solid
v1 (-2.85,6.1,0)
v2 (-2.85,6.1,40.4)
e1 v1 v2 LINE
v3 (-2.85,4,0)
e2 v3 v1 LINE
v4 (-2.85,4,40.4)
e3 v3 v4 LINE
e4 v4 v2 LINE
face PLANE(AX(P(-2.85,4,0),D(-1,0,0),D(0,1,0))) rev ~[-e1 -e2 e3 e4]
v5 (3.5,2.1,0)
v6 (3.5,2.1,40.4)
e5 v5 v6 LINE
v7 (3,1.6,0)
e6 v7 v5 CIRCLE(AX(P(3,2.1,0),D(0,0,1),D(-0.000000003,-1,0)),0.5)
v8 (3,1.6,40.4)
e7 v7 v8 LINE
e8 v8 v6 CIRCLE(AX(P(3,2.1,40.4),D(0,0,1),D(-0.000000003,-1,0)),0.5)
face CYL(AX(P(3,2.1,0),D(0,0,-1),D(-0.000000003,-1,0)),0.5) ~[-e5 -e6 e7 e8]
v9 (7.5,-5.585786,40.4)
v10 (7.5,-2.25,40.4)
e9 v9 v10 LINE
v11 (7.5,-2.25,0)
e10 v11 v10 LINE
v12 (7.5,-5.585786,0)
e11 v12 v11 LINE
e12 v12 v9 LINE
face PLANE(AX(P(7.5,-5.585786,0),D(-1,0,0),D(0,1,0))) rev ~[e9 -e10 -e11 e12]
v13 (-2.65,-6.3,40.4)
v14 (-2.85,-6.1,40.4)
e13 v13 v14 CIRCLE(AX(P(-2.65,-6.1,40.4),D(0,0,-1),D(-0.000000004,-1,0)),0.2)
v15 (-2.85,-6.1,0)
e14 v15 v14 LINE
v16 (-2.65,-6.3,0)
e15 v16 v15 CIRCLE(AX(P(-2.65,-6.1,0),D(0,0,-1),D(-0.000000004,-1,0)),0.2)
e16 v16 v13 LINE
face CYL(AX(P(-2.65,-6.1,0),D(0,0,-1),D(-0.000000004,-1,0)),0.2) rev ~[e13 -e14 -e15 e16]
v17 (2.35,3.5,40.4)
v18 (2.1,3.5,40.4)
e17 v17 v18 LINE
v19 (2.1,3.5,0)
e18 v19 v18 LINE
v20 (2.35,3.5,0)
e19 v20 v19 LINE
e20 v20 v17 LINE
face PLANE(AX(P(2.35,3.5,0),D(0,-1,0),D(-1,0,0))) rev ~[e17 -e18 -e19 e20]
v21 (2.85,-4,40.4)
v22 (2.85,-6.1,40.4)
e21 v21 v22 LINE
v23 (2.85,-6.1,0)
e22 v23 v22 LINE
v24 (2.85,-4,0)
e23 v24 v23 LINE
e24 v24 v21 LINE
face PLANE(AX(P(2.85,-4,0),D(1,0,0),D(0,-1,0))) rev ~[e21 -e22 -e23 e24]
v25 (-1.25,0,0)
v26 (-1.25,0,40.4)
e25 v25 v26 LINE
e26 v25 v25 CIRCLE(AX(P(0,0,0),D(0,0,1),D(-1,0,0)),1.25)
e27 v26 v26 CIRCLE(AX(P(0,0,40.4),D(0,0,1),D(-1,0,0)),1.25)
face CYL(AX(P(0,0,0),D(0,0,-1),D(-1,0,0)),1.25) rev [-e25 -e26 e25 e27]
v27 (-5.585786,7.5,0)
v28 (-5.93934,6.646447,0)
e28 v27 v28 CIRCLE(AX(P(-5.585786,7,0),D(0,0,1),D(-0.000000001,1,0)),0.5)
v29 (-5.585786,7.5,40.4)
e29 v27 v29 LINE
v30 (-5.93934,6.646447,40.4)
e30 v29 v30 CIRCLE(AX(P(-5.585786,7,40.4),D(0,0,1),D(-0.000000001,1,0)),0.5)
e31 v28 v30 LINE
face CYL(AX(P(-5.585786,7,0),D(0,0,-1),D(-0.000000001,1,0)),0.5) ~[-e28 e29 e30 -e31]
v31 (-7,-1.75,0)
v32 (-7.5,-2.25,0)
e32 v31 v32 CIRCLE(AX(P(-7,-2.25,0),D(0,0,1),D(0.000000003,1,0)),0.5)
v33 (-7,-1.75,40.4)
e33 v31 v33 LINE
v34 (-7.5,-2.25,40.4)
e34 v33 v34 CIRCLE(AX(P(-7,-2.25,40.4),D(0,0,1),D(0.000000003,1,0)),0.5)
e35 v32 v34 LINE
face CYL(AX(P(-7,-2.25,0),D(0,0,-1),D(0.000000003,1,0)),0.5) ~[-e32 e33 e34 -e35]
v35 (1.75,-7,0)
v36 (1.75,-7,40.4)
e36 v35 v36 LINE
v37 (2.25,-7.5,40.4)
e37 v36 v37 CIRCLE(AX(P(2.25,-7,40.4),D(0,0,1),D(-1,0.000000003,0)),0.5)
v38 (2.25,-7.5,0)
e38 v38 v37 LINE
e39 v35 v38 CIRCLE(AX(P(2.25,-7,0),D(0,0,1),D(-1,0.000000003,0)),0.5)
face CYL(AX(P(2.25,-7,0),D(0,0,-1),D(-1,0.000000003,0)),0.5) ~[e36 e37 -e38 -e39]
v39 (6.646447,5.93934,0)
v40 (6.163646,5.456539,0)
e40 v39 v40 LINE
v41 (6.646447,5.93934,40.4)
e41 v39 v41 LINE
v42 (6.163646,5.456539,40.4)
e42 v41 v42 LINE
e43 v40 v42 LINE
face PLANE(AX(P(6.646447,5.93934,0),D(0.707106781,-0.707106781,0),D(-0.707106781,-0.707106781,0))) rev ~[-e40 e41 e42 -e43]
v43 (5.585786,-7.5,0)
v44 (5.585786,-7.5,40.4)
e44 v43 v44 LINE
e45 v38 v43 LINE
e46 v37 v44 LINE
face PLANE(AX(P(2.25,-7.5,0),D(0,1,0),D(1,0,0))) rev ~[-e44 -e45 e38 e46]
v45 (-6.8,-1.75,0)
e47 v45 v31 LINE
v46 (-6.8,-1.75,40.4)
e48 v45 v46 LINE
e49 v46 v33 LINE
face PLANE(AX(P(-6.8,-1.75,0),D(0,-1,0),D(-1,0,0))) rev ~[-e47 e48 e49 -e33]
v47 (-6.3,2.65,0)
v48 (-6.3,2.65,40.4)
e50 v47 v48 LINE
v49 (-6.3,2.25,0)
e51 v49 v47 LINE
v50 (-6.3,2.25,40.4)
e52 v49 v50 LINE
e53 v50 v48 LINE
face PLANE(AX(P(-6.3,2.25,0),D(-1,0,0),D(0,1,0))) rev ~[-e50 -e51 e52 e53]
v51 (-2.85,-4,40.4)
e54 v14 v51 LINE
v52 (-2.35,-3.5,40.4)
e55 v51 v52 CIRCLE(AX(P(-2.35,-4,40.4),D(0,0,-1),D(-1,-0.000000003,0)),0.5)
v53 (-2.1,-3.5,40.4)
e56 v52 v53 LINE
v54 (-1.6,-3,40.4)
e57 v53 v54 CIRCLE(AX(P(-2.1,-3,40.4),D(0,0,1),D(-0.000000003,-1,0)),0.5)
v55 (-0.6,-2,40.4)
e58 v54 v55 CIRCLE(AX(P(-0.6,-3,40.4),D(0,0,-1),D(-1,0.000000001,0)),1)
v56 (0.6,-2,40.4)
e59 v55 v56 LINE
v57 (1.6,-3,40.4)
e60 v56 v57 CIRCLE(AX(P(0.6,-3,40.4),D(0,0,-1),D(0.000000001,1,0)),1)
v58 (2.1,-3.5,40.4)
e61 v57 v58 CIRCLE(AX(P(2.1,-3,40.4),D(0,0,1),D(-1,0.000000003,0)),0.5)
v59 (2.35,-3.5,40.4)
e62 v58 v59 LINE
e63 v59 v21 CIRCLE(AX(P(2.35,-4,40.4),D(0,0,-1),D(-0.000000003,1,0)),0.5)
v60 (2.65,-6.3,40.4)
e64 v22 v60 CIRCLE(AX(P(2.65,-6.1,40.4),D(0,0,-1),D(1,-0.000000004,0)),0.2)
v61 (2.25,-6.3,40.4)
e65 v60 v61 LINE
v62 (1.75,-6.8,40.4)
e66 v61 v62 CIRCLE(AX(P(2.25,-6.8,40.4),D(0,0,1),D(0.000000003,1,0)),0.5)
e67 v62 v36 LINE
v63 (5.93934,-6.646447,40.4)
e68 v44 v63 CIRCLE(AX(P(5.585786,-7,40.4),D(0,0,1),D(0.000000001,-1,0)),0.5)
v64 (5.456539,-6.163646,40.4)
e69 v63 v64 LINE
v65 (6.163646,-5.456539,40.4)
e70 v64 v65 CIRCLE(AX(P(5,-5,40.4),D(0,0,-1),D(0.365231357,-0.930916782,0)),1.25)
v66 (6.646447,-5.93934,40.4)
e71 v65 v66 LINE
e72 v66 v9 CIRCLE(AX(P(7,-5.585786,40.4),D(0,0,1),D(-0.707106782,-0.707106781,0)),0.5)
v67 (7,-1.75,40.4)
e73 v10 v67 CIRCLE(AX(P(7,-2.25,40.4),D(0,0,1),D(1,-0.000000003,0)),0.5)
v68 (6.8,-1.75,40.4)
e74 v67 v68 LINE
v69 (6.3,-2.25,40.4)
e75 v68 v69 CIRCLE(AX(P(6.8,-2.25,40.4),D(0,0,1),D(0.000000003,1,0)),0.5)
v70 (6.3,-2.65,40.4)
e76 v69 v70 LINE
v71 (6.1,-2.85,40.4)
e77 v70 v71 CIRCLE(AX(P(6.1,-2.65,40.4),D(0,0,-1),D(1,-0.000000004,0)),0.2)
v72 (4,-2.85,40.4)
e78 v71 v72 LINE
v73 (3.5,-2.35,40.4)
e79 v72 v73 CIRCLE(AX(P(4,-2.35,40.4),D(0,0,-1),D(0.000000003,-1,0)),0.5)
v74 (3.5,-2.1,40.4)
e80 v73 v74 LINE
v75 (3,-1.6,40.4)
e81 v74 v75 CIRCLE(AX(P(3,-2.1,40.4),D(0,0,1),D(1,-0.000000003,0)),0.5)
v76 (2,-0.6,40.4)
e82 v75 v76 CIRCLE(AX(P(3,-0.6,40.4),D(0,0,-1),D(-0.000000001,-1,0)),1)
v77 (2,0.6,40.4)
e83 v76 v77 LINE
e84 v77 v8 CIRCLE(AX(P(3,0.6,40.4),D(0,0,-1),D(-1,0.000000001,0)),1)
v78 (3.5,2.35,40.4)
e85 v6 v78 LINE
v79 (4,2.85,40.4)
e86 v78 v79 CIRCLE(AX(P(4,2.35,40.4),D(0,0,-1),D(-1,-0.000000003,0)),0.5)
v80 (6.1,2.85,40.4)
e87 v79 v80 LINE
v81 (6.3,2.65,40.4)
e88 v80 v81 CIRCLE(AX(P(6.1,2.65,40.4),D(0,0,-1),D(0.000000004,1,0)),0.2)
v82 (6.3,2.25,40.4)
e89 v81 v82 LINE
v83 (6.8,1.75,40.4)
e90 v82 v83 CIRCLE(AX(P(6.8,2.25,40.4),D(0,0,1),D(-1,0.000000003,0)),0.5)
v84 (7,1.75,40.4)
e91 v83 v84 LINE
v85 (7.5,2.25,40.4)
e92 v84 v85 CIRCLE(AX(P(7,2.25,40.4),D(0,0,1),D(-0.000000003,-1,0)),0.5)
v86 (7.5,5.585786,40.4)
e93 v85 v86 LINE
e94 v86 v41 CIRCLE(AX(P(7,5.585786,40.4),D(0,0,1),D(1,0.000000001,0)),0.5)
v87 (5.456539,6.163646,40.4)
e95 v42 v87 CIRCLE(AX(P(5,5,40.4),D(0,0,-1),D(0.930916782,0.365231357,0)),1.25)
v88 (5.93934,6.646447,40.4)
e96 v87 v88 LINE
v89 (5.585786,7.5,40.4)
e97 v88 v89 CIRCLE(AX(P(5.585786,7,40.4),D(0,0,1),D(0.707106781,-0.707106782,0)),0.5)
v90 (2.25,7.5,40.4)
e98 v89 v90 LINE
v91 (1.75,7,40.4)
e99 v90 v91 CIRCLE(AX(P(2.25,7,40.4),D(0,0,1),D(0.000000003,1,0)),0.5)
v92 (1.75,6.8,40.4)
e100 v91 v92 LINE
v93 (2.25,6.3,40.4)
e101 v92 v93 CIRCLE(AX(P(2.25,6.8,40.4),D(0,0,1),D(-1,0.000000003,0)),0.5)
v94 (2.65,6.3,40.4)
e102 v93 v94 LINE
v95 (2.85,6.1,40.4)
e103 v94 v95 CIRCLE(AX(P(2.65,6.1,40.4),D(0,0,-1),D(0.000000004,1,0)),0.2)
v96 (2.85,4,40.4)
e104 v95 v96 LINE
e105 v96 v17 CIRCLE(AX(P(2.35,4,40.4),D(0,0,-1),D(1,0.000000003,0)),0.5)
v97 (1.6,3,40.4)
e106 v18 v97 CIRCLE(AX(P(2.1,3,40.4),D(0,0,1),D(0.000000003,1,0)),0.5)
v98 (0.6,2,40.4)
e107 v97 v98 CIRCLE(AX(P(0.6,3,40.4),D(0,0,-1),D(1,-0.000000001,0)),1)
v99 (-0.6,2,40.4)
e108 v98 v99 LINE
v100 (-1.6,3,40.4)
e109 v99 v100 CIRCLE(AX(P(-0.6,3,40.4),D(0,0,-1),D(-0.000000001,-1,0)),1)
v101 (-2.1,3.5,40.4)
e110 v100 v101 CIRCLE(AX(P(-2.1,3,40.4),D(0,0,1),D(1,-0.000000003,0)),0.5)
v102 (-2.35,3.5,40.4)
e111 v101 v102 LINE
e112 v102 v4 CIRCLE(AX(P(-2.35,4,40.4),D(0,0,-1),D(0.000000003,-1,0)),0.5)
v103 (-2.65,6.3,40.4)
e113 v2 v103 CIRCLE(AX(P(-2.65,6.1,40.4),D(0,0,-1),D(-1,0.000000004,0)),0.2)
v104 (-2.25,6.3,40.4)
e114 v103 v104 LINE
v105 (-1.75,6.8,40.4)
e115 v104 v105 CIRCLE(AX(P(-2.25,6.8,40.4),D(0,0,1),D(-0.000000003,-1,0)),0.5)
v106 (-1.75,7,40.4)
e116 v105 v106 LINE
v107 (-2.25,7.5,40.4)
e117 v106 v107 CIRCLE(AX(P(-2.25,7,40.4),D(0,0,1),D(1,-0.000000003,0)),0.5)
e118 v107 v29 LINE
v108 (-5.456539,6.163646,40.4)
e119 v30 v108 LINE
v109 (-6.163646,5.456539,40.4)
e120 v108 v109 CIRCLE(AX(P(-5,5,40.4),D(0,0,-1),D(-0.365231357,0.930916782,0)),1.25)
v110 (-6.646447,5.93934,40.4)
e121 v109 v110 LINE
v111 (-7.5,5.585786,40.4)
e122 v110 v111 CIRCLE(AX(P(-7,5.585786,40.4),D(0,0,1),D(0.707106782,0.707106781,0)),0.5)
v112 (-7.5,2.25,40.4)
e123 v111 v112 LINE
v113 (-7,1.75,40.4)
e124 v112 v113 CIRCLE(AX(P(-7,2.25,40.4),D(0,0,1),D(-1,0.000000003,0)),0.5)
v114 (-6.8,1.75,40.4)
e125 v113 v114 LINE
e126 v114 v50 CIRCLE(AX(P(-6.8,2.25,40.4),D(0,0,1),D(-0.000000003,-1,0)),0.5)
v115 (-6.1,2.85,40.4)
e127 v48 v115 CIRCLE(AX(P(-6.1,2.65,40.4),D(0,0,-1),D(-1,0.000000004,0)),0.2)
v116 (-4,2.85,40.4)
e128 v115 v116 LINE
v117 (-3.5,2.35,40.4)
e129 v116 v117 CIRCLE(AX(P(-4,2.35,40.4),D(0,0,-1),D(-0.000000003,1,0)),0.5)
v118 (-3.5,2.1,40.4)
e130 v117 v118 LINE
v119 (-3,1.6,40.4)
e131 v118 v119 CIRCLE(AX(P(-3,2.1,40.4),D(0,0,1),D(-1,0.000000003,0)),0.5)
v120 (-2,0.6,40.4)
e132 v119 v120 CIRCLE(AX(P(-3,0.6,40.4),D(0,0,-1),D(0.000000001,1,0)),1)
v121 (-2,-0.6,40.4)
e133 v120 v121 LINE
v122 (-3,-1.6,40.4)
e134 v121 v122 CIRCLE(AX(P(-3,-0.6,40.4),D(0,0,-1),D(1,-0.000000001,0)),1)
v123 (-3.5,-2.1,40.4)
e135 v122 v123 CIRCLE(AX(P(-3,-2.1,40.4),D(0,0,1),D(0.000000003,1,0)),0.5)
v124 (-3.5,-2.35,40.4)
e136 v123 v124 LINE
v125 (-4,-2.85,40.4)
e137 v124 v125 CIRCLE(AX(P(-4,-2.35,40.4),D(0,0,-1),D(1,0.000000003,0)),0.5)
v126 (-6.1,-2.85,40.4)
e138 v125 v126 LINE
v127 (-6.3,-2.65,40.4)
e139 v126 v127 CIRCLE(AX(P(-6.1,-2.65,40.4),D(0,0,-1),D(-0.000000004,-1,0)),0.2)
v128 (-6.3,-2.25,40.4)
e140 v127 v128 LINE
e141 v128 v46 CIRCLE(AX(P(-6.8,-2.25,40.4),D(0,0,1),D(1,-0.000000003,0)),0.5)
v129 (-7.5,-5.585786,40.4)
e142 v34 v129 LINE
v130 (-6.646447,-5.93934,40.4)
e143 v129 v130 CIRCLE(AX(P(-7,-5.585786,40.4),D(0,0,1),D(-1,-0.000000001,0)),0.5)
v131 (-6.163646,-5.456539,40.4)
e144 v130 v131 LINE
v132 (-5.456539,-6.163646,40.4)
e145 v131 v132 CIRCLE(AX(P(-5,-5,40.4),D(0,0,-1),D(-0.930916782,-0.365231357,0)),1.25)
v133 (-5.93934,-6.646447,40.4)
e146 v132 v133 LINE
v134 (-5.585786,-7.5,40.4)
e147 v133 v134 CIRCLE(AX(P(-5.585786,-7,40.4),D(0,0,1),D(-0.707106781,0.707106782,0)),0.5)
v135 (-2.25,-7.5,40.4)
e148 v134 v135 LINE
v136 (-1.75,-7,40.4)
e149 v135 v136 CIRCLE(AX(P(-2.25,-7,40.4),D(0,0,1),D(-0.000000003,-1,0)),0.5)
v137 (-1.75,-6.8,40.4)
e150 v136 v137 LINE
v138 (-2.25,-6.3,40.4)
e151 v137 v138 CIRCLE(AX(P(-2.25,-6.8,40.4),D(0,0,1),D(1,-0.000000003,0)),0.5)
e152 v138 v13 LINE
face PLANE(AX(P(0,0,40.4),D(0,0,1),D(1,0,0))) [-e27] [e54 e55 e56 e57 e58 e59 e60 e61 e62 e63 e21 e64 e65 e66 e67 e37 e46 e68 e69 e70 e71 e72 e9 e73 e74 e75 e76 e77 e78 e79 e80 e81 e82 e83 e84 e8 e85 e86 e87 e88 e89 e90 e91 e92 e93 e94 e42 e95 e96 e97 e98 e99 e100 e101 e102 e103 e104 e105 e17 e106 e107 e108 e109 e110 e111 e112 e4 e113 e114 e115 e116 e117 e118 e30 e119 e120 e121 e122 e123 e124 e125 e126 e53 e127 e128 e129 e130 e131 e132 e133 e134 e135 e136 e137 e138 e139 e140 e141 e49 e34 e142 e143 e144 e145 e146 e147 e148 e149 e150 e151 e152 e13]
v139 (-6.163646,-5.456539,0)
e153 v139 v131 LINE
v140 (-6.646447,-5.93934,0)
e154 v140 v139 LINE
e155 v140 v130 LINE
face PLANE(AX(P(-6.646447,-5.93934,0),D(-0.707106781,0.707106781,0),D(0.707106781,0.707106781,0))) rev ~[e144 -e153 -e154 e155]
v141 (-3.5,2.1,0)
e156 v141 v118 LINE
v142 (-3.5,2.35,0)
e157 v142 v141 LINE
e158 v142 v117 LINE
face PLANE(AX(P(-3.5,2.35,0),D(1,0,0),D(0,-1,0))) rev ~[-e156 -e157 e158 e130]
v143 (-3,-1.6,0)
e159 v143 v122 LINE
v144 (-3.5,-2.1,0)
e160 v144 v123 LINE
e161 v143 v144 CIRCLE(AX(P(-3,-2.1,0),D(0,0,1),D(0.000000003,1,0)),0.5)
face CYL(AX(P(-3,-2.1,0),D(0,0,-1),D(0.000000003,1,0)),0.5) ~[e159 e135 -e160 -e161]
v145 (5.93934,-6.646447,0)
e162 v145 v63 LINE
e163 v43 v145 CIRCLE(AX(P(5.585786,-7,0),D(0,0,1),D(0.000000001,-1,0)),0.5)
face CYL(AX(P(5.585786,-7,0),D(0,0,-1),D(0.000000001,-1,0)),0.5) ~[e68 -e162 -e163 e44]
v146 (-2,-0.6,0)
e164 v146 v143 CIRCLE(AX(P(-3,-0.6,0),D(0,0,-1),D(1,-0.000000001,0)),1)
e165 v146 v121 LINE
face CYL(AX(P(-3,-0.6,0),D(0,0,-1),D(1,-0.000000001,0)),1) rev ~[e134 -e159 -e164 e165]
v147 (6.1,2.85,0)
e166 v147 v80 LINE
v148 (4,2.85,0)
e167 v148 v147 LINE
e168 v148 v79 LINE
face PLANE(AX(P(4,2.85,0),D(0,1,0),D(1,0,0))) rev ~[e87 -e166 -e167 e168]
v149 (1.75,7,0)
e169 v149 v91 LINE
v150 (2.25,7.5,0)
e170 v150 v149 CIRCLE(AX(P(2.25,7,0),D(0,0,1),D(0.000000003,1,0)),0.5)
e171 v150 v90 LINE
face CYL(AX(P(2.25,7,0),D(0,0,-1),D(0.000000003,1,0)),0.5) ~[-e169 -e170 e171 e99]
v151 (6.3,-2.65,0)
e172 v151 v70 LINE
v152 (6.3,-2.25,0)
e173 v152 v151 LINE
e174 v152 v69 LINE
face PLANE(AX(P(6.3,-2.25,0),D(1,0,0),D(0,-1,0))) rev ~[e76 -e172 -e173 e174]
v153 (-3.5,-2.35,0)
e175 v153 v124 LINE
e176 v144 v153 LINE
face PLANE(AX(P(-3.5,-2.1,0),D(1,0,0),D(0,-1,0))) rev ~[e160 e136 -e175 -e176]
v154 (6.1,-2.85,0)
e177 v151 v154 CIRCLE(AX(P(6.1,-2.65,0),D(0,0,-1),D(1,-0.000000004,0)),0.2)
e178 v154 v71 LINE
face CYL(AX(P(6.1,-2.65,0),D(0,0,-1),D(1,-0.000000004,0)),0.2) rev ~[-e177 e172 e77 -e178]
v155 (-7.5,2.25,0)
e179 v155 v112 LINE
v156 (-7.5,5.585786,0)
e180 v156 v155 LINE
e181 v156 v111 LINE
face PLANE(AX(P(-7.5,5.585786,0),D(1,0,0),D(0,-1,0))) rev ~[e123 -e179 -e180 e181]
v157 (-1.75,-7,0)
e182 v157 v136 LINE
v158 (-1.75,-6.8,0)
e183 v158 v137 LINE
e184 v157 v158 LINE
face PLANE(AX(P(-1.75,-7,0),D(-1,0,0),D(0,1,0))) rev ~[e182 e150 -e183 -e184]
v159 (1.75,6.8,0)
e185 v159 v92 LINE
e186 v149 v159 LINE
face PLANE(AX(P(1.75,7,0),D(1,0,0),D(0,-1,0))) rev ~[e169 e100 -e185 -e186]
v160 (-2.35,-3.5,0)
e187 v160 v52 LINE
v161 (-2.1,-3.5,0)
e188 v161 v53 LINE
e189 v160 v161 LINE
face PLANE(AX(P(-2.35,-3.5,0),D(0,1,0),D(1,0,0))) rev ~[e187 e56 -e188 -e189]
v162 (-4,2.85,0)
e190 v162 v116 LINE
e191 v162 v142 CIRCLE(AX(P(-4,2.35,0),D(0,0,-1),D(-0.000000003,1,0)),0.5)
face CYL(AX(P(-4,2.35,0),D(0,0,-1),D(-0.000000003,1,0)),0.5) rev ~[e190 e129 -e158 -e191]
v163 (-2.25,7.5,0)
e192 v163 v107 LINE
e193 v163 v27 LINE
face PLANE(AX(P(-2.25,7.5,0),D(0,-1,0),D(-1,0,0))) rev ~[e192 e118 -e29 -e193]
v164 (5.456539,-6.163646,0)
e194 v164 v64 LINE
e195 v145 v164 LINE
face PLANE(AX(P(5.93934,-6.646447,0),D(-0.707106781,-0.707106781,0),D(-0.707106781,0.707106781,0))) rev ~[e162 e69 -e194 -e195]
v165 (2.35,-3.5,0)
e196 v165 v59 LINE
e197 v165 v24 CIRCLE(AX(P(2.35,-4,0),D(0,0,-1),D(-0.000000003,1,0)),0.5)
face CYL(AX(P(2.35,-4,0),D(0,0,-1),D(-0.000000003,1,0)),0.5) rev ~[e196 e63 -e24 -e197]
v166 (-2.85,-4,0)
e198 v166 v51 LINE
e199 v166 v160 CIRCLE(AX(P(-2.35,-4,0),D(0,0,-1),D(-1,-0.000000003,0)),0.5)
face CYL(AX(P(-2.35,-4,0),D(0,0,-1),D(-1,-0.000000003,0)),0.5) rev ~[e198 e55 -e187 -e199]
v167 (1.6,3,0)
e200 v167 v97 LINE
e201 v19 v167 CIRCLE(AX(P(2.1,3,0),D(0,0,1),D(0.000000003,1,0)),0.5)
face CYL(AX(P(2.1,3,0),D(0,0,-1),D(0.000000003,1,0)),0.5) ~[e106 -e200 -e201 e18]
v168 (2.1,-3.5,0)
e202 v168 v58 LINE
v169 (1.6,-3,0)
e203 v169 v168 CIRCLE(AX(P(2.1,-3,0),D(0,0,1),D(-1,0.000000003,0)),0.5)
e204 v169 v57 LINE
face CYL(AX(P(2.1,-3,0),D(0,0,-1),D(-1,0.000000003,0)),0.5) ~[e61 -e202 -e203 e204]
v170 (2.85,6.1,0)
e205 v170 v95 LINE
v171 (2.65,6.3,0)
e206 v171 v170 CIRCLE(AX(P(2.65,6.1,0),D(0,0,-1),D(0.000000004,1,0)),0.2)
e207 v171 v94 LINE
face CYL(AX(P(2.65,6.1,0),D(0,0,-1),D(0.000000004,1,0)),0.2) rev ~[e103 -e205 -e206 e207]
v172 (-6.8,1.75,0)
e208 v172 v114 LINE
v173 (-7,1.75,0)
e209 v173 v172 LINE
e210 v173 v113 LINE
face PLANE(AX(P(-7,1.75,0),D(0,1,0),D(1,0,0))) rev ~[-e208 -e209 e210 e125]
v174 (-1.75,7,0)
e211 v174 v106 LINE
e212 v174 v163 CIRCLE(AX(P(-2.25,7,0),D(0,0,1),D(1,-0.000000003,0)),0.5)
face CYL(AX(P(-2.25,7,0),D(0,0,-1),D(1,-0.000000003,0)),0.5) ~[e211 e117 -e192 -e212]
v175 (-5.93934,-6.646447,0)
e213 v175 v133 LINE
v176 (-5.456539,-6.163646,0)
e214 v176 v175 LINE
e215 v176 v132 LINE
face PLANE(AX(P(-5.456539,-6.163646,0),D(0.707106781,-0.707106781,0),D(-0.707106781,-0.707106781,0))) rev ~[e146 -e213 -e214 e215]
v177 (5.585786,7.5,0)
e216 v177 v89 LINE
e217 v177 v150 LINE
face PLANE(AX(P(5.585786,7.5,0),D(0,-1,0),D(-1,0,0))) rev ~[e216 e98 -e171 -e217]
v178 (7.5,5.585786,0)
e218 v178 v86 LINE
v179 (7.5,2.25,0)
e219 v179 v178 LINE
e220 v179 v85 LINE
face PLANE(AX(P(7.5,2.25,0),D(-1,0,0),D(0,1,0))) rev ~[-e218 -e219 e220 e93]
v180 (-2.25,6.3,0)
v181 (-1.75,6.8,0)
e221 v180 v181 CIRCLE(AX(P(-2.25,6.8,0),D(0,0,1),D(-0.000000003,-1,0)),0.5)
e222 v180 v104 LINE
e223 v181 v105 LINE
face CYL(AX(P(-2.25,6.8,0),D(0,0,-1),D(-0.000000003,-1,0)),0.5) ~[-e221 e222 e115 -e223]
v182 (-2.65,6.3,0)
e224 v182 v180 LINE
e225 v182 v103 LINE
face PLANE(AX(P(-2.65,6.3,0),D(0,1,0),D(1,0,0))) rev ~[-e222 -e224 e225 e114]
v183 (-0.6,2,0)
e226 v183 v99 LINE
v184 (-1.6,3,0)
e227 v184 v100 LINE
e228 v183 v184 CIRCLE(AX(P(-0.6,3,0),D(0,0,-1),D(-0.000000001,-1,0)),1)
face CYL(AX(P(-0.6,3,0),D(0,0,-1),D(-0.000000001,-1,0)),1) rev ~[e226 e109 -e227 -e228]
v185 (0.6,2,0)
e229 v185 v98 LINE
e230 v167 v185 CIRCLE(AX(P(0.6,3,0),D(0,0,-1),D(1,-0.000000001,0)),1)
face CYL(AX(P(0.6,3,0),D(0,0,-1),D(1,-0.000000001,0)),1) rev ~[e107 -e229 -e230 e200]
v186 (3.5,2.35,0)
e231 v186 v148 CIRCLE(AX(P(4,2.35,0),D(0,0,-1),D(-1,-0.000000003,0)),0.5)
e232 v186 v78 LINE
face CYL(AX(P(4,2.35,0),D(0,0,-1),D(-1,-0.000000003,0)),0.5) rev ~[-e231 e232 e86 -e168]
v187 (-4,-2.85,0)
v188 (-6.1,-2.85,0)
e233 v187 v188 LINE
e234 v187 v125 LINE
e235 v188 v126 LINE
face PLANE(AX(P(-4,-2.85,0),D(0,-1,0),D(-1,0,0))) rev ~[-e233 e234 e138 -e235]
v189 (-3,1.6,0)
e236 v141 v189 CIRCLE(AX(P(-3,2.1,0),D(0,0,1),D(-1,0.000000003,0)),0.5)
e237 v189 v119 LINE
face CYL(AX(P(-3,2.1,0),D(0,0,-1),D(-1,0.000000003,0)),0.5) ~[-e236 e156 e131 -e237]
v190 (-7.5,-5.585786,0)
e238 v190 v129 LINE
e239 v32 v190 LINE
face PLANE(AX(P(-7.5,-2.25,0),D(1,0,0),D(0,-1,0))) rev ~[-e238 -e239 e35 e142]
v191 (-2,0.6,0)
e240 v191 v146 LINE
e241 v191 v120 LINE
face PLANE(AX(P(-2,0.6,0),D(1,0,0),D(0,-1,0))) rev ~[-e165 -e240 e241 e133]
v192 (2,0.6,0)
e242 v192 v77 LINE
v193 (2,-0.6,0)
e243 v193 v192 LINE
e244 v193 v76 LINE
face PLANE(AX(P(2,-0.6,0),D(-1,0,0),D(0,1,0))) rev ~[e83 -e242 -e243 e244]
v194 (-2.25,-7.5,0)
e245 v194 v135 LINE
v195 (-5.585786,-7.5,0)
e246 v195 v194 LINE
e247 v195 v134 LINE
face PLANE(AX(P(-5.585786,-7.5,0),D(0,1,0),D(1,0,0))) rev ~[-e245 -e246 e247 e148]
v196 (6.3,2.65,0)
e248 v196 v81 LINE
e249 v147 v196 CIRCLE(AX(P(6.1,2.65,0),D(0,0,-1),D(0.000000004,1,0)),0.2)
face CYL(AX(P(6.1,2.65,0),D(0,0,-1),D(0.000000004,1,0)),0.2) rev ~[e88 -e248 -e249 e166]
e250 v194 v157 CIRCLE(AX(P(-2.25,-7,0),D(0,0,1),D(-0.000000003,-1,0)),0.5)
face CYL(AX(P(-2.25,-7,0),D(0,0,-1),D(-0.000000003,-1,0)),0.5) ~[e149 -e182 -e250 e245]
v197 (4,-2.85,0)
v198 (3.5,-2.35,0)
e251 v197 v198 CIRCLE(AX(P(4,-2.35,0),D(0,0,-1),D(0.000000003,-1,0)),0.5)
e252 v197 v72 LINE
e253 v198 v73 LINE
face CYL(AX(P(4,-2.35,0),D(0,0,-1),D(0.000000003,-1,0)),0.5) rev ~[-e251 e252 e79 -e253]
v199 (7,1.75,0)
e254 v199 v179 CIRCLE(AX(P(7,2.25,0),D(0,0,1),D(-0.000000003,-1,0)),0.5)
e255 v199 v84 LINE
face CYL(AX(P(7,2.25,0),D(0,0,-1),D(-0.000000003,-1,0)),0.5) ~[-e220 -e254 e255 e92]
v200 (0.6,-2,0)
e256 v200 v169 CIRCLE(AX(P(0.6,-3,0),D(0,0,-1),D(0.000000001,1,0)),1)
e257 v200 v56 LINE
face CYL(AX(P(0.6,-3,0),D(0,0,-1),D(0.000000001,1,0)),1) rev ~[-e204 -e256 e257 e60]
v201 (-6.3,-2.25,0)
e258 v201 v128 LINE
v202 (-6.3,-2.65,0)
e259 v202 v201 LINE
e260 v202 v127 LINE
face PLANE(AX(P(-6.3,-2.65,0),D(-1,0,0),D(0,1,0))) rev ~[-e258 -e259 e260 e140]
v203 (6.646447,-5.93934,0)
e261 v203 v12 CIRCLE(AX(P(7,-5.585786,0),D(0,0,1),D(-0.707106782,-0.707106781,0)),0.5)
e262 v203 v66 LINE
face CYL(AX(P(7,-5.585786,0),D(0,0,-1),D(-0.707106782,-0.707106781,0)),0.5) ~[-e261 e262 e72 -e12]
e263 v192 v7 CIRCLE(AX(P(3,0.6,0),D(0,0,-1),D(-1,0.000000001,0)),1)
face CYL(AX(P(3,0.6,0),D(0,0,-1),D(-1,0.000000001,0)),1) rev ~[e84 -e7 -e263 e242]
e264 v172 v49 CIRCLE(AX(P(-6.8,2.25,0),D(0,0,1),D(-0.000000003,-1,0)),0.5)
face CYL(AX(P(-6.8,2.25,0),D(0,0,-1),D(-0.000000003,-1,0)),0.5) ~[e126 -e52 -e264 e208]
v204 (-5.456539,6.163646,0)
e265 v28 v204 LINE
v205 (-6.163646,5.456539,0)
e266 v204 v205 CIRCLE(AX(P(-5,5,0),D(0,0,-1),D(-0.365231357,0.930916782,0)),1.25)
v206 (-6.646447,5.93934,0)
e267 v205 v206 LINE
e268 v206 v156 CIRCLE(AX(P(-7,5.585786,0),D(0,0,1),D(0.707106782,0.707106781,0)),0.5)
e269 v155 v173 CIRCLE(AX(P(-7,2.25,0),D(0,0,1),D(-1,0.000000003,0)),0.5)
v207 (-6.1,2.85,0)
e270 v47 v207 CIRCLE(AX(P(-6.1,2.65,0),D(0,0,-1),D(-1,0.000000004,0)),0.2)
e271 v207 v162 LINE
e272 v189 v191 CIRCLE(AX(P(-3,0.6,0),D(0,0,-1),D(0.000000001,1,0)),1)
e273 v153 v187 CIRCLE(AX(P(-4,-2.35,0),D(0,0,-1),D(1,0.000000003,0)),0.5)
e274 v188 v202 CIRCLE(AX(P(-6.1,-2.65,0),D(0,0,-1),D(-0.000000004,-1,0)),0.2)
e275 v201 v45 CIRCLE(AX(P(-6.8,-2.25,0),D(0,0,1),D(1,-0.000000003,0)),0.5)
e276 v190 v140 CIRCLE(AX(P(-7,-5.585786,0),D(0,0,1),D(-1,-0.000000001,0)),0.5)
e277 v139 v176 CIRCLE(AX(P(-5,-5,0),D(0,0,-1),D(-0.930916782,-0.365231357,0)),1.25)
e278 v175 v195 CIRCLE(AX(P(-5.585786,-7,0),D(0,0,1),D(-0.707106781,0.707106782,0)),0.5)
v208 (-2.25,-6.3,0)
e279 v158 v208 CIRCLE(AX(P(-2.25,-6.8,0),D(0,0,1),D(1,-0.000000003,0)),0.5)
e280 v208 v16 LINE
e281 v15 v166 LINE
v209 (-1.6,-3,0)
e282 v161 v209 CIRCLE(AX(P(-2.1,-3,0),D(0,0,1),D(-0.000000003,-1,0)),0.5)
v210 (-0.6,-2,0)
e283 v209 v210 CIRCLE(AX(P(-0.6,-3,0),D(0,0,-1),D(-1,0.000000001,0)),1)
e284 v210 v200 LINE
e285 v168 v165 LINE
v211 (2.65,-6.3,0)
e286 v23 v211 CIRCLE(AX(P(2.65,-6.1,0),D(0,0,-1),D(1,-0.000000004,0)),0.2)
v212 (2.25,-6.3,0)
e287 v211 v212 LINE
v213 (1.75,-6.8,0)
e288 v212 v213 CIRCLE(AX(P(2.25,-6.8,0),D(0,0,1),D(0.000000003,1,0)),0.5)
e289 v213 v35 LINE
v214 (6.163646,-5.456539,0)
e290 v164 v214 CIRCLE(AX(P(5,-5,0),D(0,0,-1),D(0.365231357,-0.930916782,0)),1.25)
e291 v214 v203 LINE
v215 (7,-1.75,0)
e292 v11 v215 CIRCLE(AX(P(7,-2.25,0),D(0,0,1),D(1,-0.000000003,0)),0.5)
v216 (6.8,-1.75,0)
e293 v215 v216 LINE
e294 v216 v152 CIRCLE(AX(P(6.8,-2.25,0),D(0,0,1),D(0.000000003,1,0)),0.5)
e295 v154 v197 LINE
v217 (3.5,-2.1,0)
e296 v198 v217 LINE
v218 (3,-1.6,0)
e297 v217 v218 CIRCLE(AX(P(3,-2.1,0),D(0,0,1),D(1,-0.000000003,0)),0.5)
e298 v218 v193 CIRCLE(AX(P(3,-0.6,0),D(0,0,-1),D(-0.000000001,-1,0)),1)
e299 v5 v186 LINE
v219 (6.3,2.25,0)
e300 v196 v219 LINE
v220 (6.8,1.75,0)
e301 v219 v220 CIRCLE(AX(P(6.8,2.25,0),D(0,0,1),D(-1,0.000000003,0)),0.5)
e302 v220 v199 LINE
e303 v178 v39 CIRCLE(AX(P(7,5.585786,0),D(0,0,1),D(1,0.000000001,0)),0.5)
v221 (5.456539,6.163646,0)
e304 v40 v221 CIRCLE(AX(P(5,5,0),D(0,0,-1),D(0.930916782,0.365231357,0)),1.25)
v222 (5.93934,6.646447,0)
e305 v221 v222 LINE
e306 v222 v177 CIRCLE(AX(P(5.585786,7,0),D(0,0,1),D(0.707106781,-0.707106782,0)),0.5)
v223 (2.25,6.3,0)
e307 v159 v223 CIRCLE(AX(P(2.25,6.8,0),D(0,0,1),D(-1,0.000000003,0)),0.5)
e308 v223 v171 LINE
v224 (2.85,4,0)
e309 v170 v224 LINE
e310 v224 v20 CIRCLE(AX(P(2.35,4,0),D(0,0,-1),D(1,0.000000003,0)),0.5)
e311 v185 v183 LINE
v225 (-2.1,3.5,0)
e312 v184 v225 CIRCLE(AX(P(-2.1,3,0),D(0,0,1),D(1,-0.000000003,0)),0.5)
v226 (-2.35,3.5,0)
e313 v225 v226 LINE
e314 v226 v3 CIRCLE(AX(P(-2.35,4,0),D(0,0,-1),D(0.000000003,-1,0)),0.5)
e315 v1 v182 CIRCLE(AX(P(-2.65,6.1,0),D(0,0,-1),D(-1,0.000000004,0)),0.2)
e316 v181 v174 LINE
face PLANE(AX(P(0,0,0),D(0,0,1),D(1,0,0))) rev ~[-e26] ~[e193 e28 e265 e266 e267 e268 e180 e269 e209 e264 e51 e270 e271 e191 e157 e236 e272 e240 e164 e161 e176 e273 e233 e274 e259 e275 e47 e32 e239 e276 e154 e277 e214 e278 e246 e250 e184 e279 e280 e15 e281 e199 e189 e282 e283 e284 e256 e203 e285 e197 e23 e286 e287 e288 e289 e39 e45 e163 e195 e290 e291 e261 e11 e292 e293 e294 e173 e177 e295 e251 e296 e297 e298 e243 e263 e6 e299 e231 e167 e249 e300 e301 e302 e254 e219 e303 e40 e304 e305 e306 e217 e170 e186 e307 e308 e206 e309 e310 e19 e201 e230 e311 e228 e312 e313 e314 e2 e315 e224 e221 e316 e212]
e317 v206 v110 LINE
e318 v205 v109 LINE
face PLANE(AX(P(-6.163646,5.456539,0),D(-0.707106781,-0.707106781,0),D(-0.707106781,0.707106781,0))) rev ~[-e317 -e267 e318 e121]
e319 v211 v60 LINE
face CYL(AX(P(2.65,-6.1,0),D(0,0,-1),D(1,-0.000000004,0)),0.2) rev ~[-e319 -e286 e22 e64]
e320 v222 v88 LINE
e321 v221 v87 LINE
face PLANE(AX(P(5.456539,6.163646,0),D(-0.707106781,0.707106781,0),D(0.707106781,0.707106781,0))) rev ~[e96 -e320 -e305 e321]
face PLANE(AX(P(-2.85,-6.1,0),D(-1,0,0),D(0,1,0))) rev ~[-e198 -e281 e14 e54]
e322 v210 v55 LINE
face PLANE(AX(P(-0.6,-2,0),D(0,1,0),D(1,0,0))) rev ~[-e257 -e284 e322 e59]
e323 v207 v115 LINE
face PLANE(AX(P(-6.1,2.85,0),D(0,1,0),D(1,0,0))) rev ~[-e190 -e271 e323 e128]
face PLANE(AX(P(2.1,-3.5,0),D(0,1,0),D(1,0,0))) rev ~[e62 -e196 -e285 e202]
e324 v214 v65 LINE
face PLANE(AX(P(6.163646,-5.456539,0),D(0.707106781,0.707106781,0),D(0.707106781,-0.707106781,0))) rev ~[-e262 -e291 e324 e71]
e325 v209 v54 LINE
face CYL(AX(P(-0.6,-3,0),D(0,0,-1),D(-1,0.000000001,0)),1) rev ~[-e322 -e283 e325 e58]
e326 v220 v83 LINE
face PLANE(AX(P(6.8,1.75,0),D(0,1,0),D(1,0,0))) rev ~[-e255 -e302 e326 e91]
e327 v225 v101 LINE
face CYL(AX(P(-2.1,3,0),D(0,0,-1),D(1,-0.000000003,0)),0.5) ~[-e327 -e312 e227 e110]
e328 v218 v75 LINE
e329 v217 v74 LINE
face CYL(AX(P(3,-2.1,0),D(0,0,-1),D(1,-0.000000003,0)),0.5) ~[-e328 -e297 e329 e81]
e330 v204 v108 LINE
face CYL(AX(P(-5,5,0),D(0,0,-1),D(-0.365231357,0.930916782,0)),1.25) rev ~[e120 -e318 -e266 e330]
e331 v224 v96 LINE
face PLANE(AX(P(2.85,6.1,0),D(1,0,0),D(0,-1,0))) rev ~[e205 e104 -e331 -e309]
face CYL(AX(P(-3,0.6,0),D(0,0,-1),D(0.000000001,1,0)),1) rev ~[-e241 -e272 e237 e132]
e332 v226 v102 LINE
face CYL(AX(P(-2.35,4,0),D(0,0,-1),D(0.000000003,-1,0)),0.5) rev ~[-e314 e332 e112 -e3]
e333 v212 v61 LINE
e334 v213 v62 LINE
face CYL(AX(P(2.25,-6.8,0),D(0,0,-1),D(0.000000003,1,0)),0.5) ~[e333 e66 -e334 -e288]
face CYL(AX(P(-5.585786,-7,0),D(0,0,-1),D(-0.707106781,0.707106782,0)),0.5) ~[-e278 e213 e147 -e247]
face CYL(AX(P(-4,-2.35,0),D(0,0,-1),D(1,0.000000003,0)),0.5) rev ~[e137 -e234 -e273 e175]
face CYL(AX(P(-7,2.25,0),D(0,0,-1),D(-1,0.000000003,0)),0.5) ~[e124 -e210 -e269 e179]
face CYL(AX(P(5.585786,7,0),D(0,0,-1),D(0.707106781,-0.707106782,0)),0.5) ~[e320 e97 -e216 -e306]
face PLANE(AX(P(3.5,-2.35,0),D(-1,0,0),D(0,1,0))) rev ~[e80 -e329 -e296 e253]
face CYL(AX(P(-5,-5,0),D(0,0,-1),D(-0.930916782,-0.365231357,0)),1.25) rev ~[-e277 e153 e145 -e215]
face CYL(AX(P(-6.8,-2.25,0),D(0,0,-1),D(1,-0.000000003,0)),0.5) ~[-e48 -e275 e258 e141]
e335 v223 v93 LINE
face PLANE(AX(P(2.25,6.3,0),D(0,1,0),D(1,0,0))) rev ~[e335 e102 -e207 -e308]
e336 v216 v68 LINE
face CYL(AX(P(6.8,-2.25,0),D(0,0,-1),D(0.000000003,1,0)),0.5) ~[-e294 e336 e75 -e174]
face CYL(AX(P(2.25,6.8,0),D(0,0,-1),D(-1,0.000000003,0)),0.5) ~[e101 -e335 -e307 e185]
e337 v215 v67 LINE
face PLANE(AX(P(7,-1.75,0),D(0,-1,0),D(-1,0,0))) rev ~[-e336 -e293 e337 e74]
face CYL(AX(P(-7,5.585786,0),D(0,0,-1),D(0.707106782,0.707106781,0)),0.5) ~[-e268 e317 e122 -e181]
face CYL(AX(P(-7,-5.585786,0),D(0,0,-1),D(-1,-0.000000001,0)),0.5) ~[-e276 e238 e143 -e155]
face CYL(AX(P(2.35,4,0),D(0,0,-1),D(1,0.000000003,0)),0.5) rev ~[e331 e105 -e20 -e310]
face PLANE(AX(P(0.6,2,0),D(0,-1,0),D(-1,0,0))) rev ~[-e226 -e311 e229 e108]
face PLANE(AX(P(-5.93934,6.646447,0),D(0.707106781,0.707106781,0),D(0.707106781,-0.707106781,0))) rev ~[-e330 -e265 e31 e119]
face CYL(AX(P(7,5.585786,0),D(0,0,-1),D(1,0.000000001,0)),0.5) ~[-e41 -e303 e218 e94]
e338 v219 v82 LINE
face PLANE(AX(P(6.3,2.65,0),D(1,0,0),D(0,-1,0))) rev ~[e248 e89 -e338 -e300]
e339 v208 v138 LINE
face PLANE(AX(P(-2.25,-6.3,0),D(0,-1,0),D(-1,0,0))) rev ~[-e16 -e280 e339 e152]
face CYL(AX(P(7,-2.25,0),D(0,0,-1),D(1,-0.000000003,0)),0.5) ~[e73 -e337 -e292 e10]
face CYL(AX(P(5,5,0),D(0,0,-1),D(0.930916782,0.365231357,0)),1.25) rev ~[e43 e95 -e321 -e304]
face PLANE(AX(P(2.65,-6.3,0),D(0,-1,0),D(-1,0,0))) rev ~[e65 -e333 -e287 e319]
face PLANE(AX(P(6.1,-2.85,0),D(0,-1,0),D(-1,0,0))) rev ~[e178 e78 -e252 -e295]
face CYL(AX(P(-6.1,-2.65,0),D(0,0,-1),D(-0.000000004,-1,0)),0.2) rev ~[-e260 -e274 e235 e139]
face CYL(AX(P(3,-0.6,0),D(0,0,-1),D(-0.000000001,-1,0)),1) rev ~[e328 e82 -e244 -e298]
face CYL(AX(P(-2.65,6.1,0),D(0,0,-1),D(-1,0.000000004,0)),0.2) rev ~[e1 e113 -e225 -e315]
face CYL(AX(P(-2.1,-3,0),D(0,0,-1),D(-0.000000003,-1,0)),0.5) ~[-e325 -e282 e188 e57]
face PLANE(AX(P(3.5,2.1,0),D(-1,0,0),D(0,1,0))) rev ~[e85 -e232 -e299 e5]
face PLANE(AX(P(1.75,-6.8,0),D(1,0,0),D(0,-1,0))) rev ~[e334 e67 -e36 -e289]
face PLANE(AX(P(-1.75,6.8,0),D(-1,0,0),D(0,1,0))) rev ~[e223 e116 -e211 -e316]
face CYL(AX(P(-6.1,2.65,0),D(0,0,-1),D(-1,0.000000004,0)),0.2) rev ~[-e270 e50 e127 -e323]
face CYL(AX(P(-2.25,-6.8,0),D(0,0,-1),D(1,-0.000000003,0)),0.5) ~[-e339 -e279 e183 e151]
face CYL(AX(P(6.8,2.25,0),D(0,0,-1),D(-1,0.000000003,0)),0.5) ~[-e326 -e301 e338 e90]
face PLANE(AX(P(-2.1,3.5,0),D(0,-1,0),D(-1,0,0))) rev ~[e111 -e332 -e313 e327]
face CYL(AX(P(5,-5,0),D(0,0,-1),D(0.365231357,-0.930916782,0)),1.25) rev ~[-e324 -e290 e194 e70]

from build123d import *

# Parameters (mm, degrees)
SKETCH1_R           = 1.25
BOSS_EXTRUDE1_DEPTH = 40.4


with BuildPart() as part:
    # Sketch1 → Boss-Extrude1 (new body)
    with BuildSketch(Plane.XY):
        with BuildLine():
            Line((6.646446609, 5.939339828), (6.163645978, 5.456539197))
            ThreePointArc((6.163645978, 5.456539197), (4.116116524, 4.116116524), (5.456539197, 6.163645978))
            Line((5.456539197, 6.163645978), (5.939339828, 6.646446609))
            ThreePointArc((5.939339828, 6.646446609), (6.047726204, 7.191341716), (5.585786438, 7.5))
            Line((5.585786438, 7.5), (2.25, 7.5))
            ThreePointArc((2.25, 7.5), (1.896446609, 7.353553391), (1.75, 7))
            Line((1.75, 7), (1.75, 6.8))
            ThreePointArc((1.75, 6.8), (1.896446609, 6.446446609), (2.25, 6.3))
            Line((2.25, 6.3), (2.65, 6.3))
            ThreePointArc((2.65, 6.3), (2.791421356, 6.241421356), (2.85, 6.1))
            Line((2.85, 6.1), (2.85, 4))
            ThreePointArc((2.85, 4), (2.703553391, 3.646446609), (2.35, 3.5))
            Line((2.35, 3.5), (2.1, 3.5))
            ThreePointArc((2.1, 3.5), (1.746446609, 3.353553391), (1.6, 3))
            ThreePointArc((1.6, 3), (1.307106781, 2.292893219), (0.6, 2))
            Line((0.6, 2), (-0.6, 2))
            ThreePointArc((-0.6, 2), (-1.307106781, 2.292893219), (-1.6, 3))
            ThreePointArc((-1.6, 3), (-1.746446609, 3.353553391), (-2.1, 3.5))
            Line((-2.1, 3.5), (-2.35, 3.5))
            ThreePointArc((-2.35, 3.5), (-2.703553391, 3.646446609), (-2.85, 4))
            Line((-2.85, 4), (-2.85, 6.1))
            ThreePointArc((-2.85, 6.1), (-2.791421356, 6.241421356), (-2.65, 6.3))
            Line((-2.65, 6.3), (-2.25, 6.3))
            ThreePointArc((-2.25, 6.3), (-1.896446609, 6.446446609), (-1.75, 6.8))
            Line((-1.75, 6.8), (-1.75, 7))
            ThreePointArc((-1.75, 7), (-1.896446609, 7.353553391), (-2.25, 7.5))
            Line((-2.25, 7.5), (-5.585786438, 7.5))
            ThreePointArc((-5.585786438, 7.5), (-6.047726204, 7.191341716), (-5.939339828, 6.646446609))
            Line((-5.939339828, 6.646446609), (-5.456539197, 6.163645978))
            ThreePointArc((-5.456539197, 6.163645978), (-4.116116524, 4.116116524), (-6.163645978, 5.456539197))
            Line((-6.163645978, 5.456539197), (-6.646446609, 5.939339828))
            ThreePointArc((-6.646446609, 5.939339828), (-7.191341716, 6.047726204), (-7.5, 5.585786438))
            Line((-7.5, 5.585786438), (-7.5, 2.25))
            ThreePointArc((-7.5, 2.25), (-7.353553391, 1.896446609), (-7, 1.75))
            Line((-7, 1.75), (-6.8, 1.75))
            ThreePointArc((-6.8, 1.75), (-6.446446609, 1.896446609), (-6.3, 2.25))
            Line((-6.3, 2.25), (-6.3, 2.65))
            ThreePointArc((-6.3, 2.65), (-6.241421356, 2.791421356), (-6.1, 2.85))
            Line((-6.1, 2.85), (-4, 2.85))
            ThreePointArc((-4, 2.85), (-3.646446609, 2.703553391), (-3.5, 2.35))
            Line((-3.5, 2.35), (-3.5, 2.1))
            ThreePointArc((-3.5, 2.1), (-3.353553391, 1.746446609), (-3, 1.6))
            ThreePointArc((-3, 1.6), (-2.292893219, 1.307106781), (-2, 0.6))
            Line((-2, 0.6), (-2, -0.6))
            ThreePointArc((-2, -0.6), (-2.292893219, -1.307106781), (-3, -1.6))
            ThreePointArc((-3, -1.6), (-3.353553391, -1.746446609), (-3.5, -2.1))
            Line((-3.5, -2.1), (-3.5, -2.35))
            ThreePointArc((-3.5, -2.35), (-3.646446609, -2.703553391), (-4, -2.85))
            Line((-4, -2.85), (-6.1, -2.85))
            ThreePointArc((-6.1, -2.85), (-6.241421356, -2.791421356), (-6.3, -2.65))
            Line((-6.3, -2.65), (-6.3, -2.25))
            ThreePointArc((-6.3, -2.25), (-6.446446609, -1.896446609), (-6.8, -1.75))
            Line((-6.8, -1.75), (-7, -1.75))
            ThreePointArc((-7, -1.75), (-7.353553391, -1.896446609), (-7.5, -2.25))
            Line((-7.5, -2.25), (-7.5, -5.585786438))
            ThreePointArc((-7.5, -5.585786438), (-7.191341716, -6.047726204), (-6.646446609, -5.939339828))
            Line((-6.646446609, -5.939339828), (-6.163645978, -5.456539197))
            ThreePointArc((-6.163645978, -5.456539197), (-4.116116524, -4.116116524), (-5.456539197, -6.163645978))
            Line((-5.456539197, -6.163645978), (-5.939339828, -6.646446609))
            ThreePointArc((-5.939339828, -6.646446609), (-6.047726204, -7.191341716), (-5.585786438, -7.5))
            Line((-5.585786438, -7.5), (-2.25, -7.5))
            ThreePointArc((-2.25, -7.5), (-1.896446609, -7.353553391), (-1.75, -7))
            Line((-1.75, -7), (-1.75, -6.8))
            ThreePointArc((-1.75, -6.8), (-1.896446609, -6.446446609), (-2.25, -6.3))
            Line((-2.25, -6.3), (-2.65, -6.3))
            ThreePointArc((-2.65, -6.3), (-2.791421356, -6.241421356), (-2.85, -6.1))
            Line((-2.85, -6.1), (-2.85, -4))
            ThreePointArc((-2.85, -4), (-2.703553391, -3.646446609), (-2.35, -3.5))
            Line((-2.35, -3.5), (-2.1, -3.5))
            ThreePointArc((-2.1, -3.5), (-1.746446609, -3.353553391), (-1.6, -3))
            ThreePointArc((-1.6, -3), (-1.307106781, -2.292893219), (-0.6, -2))
            Line((-0.6, -2), (0.6, -2))
            ThreePointArc((0.6, -2), (1.307106781, -2.292893219), (1.6, -3))
            ThreePointArc((1.6, -3), (1.746446609, -3.353553391), (2.1, -3.5))
            Line((2.1, -3.5), (2.35, -3.5))
            ThreePointArc((2.35, -3.5), (2.703553391, -3.646446609), (2.85, -4))
            Line((2.85, -4), (2.85, -6.1))
            ThreePointArc((2.85, -6.1), (2.791421356, -6.241421356), (2.65, -6.3))
            Line((2.65, -6.3), (2.25, -6.3))
            ThreePointArc((2.25, -6.3), (1.896446609, -6.446446609), (1.75, -6.8))
            Line((1.75, -6.8), (1.75, -7))
            ThreePointArc((1.75, -7), (1.896446609, -7.353553391), (2.25, -7.5))
            Line((2.25, -7.5), (5.585786438, -7.5))
            ThreePointArc((5.585786438, -7.5), (6.047726204, -7.191341716), (5.939339828, -6.646446609))
            Line((5.939339828, -6.646446609), (5.456539197, -6.163645978))
            ThreePointArc((5.456539197, -6.163645978), (4.116116524, -4.116116524), (6.163645978, -5.456539197))
            Line((6.163645978, -5.456539197), (6.646446609, -5.939339828))
            ThreePointArc((6.646446609, -5.939339828), (7.191341716, -6.047726204), (7.5, -5.585786438))
            Line((7.5, -5.585786438), (7.5, -2.25))
            ThreePointArc((7.5, -2.25), (7.353553391, -1.896446609), (7, -1.75))
            Line((7, -1.75), (6.8, -1.75))
            ThreePointArc((6.8, -1.75), (6.446446609, -1.896446609), (6.3, -2.25))
            Line((6.3, -2.25), (6.3, -2.65))
            ThreePointArc((6.3, -2.65), (6.241421356, -2.791421356), (6.1, -2.85))
            Line((6.1, -2.85), (4, -2.85))
            ThreePointArc((4, -2.85), (3.646446609, -2.703553391), (3.5, -2.35))
            Line((3.5, -2.35), (3.5, -2.1))
            ThreePointArc((3.5, -2.1), (3.353553391, -1.746446609), (3, -1.6))
            ThreePointArc((3, -1.6), (2.292893219, -1.307106781), (2, -0.6))
            Line((2, -0.6), (2, 0.6))
            ThreePointArc((2, 0.6), (2.292893219, 1.307106781), (3, 1.6))
            ThreePointArc((3, 1.6), (3.353553391, 1.746446609), (3.5, 2.1))
            Line((3.5, 2.1), (3.5, 2.35))
            ThreePointArc((3.5, 2.35), (3.646446609, 2.703553391), (4, 2.85))
            Line((4, 2.85), (6.1, 2.85))
            ThreePointArc((6.1, 2.85), (6.241421356, 2.791421356), (6.3, 2.65))
            Line((6.3, 2.65), (6.3, 2.25))
            ThreePointArc((6.3, 2.25), (6.446446609, 1.896446609), (6.8, 1.75))
            Line((6.8, 1.75), (7, 1.75))
            ThreePointArc((7, 1.75), (7.353553391, 1.896446609), (7.5, 2.25))
            Line((7.5, 2.25), (7.5, 5.585786438))
            ThreePointArc((7.5, 5.585786438), (7.191341716, 6.047726204), (6.646446609, 5.939339828))
        make_face()
        with Locations(Location((0, 0, 0), (0, 0, 180))):
            Circle(SKETCH1_R, mode=Mode.SUBTRACT)
    extrude(amount=BOSS_EXTRUDE1_DEPTH)


solid = part.part
